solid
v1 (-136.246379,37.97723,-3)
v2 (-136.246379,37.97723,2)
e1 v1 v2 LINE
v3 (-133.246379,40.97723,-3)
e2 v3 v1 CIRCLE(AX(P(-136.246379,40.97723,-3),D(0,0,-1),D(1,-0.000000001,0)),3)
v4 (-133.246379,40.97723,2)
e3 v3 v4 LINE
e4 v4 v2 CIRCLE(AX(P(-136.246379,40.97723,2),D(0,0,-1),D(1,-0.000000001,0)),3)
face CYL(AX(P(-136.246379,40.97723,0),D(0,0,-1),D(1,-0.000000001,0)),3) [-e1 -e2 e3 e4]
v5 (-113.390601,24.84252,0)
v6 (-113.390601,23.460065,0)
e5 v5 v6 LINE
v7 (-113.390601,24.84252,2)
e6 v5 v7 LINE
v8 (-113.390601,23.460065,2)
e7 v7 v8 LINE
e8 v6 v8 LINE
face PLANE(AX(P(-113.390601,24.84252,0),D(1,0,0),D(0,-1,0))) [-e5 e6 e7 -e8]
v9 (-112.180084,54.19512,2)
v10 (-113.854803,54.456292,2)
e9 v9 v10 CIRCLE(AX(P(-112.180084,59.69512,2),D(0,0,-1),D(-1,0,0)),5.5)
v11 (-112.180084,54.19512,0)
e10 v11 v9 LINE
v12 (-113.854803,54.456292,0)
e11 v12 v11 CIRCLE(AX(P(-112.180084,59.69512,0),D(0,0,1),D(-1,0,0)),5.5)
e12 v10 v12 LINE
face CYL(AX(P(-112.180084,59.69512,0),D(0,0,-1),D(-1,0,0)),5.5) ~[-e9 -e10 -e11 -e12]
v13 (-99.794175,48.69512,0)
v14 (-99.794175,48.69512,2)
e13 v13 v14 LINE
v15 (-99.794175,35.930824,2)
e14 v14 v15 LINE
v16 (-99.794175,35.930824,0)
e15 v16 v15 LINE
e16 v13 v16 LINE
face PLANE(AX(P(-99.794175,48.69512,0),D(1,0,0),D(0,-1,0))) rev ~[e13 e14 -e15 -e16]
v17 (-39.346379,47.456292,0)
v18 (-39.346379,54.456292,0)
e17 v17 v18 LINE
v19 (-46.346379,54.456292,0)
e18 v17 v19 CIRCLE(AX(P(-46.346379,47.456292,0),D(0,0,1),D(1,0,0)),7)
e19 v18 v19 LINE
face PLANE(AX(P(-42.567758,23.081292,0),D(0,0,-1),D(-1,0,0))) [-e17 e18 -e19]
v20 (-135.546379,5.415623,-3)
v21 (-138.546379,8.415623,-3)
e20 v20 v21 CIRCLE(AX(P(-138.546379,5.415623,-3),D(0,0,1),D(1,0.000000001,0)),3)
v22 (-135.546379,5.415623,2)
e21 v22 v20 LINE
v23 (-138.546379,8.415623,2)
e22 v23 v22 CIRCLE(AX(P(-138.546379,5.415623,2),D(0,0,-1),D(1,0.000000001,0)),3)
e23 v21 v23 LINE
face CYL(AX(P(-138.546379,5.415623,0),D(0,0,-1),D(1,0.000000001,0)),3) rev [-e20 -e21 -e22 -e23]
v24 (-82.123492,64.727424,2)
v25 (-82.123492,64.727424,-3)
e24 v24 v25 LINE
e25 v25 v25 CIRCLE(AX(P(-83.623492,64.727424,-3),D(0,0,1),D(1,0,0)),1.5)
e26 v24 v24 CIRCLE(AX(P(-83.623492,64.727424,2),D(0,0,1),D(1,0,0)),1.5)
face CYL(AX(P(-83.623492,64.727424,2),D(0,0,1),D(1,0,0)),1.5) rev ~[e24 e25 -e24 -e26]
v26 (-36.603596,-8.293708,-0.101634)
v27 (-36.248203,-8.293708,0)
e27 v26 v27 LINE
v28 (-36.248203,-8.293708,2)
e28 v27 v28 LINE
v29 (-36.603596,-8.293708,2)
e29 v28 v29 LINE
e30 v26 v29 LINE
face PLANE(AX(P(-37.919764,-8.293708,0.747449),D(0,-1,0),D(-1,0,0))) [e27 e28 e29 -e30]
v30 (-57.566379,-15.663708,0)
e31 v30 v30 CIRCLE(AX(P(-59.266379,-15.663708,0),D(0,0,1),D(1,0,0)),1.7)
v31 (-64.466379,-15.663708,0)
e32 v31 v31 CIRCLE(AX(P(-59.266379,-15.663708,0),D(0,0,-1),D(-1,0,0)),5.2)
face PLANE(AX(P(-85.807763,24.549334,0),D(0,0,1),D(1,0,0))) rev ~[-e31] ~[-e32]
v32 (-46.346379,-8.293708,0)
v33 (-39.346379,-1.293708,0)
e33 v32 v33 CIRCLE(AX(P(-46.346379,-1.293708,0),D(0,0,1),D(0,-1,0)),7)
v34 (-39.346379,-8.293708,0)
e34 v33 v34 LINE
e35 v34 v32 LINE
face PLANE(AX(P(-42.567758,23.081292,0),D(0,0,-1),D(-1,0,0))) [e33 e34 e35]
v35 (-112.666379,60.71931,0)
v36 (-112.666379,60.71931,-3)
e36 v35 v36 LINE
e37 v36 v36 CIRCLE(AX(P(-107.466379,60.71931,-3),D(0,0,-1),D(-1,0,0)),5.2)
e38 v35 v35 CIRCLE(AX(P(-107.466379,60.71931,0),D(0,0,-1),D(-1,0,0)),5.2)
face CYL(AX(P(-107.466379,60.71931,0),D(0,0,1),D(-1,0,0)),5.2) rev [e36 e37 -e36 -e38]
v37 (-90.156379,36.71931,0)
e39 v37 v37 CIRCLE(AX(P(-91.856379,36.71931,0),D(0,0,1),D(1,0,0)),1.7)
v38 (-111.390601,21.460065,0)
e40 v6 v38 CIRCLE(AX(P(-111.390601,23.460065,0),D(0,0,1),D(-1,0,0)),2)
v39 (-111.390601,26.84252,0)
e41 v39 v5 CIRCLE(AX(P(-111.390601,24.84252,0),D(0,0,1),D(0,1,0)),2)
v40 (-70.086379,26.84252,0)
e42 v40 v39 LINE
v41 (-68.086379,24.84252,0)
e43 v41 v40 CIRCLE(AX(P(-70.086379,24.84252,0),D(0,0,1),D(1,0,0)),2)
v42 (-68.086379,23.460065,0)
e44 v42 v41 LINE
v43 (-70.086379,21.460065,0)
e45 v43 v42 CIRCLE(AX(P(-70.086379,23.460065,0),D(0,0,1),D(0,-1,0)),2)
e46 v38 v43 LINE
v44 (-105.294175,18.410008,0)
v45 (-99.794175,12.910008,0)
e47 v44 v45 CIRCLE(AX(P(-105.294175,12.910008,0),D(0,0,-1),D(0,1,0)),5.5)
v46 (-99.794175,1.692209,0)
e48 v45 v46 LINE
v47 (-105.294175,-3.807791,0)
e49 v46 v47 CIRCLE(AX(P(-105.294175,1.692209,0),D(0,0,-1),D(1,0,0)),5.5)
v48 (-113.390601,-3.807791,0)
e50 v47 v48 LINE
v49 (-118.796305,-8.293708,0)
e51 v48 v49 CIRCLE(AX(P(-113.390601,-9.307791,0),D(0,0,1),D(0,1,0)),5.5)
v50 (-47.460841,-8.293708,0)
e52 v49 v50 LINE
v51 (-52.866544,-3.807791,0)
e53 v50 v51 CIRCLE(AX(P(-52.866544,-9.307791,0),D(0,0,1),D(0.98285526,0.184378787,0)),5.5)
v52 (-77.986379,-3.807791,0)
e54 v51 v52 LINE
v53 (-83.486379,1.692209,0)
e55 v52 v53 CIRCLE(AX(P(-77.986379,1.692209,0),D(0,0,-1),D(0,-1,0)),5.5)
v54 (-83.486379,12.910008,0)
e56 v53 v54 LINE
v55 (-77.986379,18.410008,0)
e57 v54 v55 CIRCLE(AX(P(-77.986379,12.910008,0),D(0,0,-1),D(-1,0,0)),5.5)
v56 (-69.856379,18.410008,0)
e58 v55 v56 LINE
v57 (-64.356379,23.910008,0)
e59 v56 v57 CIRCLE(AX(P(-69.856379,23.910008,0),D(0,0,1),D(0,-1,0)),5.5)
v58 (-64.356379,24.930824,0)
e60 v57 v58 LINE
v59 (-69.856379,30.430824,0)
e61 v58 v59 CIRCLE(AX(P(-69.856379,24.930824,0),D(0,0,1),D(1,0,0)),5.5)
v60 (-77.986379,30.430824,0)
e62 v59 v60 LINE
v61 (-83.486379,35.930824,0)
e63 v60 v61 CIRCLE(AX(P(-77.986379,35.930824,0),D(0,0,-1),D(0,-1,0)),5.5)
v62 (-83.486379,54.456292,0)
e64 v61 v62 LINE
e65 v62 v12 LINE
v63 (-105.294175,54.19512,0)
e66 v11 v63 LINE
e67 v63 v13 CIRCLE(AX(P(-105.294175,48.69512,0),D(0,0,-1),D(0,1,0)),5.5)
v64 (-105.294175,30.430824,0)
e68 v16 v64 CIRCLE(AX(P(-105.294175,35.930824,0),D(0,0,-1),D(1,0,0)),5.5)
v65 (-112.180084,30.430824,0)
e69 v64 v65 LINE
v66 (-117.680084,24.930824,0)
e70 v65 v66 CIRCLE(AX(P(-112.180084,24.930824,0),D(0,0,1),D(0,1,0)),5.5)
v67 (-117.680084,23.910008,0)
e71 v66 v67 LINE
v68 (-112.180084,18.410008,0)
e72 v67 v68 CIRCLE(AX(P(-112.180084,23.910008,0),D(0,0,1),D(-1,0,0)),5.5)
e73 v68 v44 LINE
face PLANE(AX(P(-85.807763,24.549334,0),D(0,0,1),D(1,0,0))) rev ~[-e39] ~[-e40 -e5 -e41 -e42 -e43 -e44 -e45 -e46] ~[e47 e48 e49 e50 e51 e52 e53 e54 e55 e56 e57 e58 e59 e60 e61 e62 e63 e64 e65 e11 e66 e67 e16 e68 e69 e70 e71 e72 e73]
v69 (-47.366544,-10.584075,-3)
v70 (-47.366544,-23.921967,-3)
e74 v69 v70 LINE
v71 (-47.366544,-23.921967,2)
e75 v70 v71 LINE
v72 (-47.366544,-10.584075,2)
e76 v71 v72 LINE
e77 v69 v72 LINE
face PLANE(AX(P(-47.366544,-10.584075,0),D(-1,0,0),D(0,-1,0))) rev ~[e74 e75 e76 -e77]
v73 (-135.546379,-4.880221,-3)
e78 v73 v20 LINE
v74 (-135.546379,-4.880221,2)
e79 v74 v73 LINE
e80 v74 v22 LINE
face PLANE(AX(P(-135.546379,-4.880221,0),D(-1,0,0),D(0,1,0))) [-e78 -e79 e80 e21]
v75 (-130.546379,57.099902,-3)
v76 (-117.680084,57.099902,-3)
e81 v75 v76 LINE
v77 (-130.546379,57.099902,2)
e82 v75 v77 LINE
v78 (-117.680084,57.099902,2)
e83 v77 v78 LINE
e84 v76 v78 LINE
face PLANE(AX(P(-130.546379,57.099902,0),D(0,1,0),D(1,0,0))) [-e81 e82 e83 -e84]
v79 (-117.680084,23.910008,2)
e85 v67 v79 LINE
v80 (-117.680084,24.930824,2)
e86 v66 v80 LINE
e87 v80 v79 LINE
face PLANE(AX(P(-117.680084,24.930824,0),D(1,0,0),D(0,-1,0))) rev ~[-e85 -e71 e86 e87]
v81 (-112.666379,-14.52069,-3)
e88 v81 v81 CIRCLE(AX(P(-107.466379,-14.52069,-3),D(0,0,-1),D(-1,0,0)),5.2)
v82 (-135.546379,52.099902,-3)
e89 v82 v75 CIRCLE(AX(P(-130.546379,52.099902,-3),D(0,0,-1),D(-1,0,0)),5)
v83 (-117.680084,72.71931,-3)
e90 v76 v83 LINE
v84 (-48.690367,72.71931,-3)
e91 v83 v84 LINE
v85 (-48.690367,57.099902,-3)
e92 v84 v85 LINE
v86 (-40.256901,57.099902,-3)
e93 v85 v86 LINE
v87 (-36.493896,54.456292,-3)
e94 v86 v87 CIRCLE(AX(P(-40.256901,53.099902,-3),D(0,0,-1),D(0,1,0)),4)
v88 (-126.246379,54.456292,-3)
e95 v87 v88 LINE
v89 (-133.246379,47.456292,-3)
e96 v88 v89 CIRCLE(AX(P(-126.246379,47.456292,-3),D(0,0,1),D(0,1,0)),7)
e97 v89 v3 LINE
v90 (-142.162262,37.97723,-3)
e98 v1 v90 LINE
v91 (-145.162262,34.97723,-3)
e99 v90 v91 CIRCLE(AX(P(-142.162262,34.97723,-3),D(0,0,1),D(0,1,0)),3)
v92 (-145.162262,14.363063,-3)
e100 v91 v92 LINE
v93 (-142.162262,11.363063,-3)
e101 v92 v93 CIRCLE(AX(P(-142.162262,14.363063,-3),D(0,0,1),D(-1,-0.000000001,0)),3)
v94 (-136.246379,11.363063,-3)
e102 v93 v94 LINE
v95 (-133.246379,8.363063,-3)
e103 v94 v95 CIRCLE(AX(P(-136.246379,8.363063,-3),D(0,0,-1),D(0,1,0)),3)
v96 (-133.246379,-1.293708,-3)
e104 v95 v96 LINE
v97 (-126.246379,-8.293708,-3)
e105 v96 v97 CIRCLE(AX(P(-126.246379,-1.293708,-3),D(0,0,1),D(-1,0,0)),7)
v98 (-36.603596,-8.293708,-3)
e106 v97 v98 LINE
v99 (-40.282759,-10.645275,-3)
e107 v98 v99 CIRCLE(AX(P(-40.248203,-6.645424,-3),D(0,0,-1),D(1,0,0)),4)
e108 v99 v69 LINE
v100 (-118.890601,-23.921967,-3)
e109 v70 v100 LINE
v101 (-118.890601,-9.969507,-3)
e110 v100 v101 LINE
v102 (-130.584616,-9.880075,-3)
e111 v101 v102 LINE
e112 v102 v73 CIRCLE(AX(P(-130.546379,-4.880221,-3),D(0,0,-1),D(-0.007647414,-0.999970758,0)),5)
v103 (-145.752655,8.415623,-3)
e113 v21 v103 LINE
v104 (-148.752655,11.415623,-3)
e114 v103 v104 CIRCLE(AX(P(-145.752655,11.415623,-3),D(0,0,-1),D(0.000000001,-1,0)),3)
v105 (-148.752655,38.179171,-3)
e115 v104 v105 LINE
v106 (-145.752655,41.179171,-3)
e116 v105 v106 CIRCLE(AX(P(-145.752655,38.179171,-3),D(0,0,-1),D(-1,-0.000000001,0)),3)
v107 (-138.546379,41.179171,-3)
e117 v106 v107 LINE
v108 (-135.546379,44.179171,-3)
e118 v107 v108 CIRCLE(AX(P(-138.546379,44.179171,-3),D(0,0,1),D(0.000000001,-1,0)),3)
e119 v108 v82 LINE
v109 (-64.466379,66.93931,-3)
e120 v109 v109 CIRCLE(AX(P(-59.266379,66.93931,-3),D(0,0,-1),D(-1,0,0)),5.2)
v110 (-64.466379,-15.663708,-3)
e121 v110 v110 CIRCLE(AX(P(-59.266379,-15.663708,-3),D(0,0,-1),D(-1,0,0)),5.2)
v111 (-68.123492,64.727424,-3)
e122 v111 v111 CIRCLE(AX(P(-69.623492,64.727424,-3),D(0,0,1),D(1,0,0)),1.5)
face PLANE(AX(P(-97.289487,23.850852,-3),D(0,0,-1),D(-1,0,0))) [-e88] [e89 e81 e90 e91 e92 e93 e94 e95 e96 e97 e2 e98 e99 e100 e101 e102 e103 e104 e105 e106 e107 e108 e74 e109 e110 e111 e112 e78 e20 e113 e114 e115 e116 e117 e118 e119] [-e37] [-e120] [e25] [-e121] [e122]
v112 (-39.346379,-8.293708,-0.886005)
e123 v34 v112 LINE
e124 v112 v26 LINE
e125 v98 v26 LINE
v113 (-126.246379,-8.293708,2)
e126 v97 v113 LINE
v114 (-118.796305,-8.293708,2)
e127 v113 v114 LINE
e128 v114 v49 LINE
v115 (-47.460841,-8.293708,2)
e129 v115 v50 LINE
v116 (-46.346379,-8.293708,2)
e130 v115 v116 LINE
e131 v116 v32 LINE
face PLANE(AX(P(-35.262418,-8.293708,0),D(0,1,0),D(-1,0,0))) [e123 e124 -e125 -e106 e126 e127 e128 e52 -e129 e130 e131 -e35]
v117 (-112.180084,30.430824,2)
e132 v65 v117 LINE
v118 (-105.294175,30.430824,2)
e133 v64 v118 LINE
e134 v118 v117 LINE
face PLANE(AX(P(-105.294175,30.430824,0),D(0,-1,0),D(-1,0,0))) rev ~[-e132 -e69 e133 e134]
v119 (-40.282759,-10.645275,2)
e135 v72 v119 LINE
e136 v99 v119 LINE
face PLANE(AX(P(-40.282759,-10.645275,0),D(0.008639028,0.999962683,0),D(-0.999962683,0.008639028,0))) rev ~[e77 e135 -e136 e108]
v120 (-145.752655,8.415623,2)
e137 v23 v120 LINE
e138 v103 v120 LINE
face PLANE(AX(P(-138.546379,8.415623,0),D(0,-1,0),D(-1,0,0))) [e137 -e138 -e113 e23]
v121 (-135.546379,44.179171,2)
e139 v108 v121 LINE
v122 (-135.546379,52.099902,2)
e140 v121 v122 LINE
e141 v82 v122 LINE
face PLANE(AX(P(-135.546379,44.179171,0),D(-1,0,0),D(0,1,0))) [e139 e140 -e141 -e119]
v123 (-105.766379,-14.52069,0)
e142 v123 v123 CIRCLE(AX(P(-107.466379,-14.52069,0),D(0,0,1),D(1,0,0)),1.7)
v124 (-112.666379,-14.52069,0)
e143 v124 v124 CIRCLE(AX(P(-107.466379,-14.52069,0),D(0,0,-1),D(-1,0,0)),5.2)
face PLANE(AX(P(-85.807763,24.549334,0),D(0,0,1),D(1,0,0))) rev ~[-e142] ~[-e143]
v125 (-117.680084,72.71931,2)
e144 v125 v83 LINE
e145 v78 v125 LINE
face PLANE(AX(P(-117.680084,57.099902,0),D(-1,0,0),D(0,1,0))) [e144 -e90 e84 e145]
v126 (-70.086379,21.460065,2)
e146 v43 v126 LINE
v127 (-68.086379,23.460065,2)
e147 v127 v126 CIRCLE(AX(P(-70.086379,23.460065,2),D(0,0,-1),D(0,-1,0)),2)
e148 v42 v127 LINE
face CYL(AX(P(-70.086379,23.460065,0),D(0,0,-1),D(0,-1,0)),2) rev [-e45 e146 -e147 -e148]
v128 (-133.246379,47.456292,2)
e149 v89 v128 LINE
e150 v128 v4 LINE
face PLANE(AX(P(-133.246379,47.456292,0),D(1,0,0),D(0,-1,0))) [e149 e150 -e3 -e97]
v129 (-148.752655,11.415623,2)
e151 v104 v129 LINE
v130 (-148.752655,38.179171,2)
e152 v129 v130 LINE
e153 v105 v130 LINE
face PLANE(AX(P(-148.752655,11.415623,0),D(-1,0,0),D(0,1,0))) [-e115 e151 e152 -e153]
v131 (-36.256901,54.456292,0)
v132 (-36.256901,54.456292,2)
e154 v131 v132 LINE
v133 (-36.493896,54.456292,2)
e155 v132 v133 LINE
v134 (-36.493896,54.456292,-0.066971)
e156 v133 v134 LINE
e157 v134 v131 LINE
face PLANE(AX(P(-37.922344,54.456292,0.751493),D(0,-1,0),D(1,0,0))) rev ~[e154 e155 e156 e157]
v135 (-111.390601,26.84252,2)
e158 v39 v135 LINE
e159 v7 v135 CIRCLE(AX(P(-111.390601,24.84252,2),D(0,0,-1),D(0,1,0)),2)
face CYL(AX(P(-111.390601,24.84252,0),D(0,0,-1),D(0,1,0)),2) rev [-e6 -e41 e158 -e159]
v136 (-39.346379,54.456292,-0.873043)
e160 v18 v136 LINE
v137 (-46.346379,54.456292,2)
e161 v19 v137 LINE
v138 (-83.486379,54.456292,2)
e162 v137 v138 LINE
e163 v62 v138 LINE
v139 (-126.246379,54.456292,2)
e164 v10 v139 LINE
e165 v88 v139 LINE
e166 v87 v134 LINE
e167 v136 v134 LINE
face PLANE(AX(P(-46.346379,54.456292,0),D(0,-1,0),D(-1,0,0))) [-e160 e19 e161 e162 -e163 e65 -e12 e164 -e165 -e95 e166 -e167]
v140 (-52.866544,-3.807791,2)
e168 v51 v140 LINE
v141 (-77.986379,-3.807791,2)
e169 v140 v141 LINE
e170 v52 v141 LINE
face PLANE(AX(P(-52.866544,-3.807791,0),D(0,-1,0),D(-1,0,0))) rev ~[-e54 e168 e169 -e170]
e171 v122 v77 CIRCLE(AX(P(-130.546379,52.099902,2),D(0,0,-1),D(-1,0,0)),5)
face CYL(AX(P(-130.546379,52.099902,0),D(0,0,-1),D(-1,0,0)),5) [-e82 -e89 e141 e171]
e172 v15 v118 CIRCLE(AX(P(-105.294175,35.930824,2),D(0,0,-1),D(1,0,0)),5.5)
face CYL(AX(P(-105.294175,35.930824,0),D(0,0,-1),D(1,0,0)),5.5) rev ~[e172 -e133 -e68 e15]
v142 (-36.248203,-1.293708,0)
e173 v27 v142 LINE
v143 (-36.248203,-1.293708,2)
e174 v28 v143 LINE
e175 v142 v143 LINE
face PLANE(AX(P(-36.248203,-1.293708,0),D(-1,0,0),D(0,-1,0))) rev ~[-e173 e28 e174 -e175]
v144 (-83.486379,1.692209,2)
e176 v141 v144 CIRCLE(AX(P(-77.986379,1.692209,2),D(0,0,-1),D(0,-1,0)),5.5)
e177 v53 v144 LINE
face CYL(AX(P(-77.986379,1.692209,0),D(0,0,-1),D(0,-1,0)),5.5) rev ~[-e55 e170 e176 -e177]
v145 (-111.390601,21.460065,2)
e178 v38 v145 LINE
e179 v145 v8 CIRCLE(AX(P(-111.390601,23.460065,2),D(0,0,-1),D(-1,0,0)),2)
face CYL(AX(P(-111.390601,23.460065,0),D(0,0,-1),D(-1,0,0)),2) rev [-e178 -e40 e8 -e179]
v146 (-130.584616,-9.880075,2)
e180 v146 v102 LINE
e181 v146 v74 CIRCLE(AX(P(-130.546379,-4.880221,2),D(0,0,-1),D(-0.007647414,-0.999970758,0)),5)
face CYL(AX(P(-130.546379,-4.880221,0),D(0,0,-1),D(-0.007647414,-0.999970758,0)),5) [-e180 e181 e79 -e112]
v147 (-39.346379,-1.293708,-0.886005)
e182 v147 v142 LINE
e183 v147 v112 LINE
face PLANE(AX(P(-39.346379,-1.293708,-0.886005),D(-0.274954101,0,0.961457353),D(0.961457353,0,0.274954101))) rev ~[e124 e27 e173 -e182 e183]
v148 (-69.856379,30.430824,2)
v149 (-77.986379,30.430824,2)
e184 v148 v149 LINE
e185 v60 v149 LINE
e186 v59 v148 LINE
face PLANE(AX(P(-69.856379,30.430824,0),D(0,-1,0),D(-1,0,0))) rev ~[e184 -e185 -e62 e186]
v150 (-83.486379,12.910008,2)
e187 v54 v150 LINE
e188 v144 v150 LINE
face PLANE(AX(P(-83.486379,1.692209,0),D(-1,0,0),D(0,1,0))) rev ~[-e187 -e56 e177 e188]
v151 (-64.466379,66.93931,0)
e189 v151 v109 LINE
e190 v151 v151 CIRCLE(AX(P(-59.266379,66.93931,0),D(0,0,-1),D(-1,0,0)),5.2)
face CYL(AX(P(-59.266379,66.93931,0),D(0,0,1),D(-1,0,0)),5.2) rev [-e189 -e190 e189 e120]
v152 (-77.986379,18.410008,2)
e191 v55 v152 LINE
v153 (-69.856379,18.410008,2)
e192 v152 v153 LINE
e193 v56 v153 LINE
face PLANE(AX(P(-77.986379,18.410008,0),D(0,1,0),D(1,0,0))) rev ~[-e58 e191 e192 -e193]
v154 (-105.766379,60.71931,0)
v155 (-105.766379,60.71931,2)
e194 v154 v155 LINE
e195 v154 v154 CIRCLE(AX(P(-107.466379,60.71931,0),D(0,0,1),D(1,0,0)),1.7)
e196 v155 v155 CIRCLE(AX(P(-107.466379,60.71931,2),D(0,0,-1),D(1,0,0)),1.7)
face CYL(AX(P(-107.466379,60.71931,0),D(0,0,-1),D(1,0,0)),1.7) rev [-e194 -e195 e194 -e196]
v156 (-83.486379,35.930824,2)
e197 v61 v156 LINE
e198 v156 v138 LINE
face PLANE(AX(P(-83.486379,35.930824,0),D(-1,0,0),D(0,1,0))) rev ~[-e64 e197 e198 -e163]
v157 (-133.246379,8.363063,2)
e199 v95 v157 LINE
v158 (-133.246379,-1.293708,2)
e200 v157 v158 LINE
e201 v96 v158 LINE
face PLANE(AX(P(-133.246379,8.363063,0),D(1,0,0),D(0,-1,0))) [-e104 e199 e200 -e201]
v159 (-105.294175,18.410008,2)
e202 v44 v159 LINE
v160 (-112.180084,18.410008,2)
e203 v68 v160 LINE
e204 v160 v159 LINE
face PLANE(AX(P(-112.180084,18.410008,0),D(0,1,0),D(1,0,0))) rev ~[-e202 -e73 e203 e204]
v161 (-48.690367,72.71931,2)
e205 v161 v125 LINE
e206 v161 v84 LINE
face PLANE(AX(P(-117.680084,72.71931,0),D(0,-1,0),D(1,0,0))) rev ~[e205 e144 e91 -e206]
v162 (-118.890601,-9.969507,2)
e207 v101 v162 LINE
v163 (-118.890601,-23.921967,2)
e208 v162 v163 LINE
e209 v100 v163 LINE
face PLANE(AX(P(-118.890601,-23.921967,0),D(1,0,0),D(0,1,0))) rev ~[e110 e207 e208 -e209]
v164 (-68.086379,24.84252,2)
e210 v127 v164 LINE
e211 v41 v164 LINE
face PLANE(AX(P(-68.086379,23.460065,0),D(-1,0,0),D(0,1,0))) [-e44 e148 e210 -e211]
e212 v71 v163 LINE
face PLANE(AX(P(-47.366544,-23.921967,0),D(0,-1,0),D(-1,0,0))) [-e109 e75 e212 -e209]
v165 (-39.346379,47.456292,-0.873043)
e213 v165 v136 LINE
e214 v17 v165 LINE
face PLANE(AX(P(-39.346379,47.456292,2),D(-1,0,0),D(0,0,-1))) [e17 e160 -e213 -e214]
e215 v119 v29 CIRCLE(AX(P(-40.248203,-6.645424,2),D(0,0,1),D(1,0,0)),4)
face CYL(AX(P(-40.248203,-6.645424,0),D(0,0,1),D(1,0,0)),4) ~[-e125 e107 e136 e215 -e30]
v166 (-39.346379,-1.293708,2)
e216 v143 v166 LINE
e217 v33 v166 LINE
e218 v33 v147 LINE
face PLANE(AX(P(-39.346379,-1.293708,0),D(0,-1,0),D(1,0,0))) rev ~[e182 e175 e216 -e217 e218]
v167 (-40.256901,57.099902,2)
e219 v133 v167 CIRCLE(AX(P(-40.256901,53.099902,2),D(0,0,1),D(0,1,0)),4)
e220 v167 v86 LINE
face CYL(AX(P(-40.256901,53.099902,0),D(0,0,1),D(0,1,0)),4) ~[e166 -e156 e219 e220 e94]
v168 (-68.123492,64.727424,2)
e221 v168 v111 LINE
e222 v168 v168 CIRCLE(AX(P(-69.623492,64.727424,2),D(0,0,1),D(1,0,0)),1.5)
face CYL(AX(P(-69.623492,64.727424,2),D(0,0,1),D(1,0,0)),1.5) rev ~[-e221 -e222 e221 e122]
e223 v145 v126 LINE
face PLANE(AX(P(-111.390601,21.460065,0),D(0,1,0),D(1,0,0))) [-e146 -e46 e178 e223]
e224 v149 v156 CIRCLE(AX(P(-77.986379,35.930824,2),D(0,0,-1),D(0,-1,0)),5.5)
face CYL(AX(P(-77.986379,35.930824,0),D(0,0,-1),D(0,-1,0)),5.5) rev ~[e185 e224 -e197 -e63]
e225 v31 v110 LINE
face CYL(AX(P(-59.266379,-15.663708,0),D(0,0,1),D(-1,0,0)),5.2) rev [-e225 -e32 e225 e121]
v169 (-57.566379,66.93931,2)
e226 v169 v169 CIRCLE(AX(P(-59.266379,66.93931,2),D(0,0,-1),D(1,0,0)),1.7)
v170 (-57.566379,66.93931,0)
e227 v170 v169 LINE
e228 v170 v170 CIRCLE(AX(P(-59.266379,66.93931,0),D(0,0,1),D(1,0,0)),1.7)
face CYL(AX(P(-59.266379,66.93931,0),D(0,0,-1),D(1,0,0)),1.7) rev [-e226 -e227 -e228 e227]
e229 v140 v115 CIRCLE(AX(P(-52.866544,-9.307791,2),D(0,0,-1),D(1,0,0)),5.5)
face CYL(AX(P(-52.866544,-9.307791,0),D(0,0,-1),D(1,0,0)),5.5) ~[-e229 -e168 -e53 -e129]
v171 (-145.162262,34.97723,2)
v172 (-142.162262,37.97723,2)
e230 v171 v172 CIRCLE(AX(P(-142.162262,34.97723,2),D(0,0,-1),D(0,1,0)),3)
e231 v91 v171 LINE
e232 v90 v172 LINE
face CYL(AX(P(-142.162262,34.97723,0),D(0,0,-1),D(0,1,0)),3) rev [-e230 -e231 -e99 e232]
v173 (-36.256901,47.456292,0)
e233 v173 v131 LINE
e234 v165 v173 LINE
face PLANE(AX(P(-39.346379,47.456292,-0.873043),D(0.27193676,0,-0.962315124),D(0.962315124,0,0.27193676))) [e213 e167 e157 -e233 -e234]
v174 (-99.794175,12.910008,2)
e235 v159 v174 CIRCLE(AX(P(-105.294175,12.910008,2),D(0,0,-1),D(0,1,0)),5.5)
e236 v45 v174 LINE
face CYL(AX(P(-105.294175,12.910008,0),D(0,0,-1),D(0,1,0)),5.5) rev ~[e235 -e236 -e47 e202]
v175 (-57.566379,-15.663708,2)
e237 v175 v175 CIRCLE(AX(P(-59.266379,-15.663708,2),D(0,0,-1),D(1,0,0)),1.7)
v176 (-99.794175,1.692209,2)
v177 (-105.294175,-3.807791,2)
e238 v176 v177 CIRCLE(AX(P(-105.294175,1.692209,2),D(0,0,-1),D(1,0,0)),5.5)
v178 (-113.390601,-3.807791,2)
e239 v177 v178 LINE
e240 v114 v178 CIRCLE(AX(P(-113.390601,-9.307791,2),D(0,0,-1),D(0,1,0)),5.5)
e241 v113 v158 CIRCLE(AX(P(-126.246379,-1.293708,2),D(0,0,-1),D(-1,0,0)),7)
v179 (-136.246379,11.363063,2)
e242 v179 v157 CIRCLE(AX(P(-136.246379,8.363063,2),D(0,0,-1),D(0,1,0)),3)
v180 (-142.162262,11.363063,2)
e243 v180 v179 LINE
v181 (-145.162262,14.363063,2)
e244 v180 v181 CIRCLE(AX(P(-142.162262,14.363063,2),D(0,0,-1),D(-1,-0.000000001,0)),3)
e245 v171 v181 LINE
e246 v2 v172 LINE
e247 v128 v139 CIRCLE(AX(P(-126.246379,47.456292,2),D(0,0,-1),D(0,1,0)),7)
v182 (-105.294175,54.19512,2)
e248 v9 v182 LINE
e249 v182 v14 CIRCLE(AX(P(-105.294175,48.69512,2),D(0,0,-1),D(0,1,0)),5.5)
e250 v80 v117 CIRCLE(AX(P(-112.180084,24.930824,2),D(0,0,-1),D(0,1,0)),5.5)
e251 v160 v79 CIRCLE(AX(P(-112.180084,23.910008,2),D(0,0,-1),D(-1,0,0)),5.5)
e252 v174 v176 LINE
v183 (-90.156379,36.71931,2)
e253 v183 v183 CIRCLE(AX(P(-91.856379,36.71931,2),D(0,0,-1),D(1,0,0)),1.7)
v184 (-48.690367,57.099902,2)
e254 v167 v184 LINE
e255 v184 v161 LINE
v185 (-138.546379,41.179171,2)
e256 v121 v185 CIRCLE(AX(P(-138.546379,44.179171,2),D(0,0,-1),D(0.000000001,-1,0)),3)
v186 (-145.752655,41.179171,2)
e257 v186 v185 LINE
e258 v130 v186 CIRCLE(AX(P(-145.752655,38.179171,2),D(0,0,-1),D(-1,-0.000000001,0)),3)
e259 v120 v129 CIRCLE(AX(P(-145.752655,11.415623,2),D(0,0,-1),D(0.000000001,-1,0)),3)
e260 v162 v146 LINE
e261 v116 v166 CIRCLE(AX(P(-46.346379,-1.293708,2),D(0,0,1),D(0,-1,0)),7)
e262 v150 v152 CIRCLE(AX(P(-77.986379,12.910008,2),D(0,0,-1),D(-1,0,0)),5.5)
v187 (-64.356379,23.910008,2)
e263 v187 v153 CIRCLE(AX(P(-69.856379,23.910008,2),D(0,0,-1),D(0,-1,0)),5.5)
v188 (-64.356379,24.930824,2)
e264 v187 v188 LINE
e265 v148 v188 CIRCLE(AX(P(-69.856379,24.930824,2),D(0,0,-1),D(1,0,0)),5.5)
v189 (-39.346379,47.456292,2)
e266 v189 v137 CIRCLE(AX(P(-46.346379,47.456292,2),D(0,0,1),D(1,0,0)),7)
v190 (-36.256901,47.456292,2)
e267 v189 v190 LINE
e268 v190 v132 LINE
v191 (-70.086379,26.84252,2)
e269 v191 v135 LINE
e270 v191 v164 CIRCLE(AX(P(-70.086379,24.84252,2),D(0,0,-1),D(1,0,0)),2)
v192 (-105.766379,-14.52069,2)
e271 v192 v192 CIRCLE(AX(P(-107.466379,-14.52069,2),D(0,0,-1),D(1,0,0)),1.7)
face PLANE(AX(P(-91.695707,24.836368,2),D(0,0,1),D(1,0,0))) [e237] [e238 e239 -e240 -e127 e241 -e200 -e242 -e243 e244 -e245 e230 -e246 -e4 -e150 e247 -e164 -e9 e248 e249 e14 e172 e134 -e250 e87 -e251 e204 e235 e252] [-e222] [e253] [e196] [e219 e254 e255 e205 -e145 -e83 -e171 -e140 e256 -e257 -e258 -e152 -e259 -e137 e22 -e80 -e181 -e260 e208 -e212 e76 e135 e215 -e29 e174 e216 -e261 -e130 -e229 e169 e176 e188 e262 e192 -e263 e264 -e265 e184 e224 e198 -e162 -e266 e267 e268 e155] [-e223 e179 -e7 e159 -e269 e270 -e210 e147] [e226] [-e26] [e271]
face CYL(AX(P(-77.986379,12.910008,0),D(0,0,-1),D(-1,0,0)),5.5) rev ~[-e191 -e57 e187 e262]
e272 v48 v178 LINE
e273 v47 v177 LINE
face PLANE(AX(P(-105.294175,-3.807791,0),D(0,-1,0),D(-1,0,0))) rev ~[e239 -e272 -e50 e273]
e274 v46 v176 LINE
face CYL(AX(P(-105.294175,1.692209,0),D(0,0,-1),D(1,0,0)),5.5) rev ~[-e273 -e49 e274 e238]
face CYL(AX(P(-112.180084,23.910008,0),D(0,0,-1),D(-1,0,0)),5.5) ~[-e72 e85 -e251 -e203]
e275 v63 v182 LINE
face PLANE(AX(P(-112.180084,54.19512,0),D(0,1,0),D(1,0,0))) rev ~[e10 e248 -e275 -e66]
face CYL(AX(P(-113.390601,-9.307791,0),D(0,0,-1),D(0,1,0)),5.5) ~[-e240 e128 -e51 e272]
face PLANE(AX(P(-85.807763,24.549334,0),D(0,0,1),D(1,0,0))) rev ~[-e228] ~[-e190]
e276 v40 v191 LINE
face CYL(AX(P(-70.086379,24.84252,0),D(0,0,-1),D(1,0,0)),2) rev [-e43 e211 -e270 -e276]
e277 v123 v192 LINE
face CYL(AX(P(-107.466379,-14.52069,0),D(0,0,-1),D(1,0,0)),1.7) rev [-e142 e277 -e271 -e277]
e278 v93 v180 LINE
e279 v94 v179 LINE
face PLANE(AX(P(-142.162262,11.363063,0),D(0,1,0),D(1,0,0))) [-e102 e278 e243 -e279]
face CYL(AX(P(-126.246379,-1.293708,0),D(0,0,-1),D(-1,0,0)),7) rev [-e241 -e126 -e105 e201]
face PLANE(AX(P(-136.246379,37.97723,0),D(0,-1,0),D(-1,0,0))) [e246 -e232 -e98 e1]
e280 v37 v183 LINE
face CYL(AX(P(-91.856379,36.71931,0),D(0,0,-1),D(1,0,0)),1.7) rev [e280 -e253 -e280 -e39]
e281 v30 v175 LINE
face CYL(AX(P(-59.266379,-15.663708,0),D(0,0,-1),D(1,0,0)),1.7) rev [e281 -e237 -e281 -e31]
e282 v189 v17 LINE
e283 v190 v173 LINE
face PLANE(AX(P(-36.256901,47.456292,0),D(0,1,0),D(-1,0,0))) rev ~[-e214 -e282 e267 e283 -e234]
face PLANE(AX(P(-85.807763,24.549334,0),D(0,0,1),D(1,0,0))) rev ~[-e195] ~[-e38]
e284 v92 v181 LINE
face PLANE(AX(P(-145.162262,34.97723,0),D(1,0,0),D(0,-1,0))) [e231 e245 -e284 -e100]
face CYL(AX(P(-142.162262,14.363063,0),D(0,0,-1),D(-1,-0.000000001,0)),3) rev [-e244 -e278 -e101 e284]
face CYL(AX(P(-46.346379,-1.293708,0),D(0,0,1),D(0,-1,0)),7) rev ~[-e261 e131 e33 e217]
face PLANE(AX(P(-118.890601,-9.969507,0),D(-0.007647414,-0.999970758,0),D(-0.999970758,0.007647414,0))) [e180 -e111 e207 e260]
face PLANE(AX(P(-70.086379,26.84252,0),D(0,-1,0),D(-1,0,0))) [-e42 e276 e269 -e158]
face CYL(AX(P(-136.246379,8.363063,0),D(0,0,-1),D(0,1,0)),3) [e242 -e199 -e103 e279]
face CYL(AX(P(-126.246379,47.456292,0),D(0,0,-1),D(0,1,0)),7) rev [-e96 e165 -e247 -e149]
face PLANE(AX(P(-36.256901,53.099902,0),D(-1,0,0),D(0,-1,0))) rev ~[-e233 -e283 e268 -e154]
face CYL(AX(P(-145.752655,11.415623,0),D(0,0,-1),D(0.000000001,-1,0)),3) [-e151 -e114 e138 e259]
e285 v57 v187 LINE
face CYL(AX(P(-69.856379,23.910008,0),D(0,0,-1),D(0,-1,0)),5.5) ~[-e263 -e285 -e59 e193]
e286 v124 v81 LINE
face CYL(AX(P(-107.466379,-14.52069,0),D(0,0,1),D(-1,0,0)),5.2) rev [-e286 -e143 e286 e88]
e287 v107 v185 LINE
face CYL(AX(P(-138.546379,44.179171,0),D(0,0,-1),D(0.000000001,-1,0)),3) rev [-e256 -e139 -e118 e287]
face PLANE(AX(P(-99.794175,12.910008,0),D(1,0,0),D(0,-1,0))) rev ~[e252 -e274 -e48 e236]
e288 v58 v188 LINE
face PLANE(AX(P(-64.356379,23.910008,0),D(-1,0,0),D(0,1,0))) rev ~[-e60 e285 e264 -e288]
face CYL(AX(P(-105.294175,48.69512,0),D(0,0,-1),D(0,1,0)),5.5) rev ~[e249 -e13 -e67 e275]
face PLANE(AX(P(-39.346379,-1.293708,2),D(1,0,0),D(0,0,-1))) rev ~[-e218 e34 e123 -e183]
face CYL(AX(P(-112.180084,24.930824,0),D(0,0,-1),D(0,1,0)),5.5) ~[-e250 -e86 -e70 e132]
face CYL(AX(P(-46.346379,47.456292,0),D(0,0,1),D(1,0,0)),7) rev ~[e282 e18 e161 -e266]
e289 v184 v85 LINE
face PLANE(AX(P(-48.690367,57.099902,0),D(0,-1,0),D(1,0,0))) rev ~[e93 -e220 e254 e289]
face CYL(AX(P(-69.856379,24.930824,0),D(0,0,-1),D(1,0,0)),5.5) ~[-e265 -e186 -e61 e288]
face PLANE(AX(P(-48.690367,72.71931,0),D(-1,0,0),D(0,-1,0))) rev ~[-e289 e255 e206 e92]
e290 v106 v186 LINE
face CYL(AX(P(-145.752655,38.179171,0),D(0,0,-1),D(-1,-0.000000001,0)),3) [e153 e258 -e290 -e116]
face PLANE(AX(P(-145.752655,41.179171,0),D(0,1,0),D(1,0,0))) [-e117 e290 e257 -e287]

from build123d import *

# Parameters (mm, degrees)
ESQUISSE1_R             = 1.7
BOSS_EXTRU_1_DEPTH      = 3
BOSS_EXTRU_2_DEPTH      = 3
BOSS_EXTRU_2_DEPTH_BACK = 3
ESQUISSE2_R             = 5.2
ESQUISSE5_W             = 129.390100882
ESQUISSE5_H             = 110.068207502
ENL_V_MAT_EXTRU_2_DEPTH = 1
ESQUISSE6_R             = 1.5
ENL_V_MAT_EXTRU_3_DEPTH = 8
ESQUISSE7_W             = 14.610679854
ESQUISSE7_H             = 62.75
ENL_V_MAT_EXTRU_4_DEPTH = 8
BOSS_EXTRU_3_DEPTH      = 7
BOSS_EXTRU_4_DEPTH      = 7


with BuildPart() as part:
    # Esquisse1 → Boss.-Extru.1 (new body)
    with BuildSketch(Plane.XY):
        with BuildLine():
            Line((-117.680084405, 66.939310237), (-117.680084405, 59.695120061))
            ThreePointArc((-117.680084405, 59.695120061), (-116.069171702, 55.806032765), (-112.180084405, 54.195120061))
            Line((-112.180084405, 54.195120061), (-105.294175096, 54.195120061))
            ThreePointArc((-105.294175096, 54.195120061), (-101.4050878, 52.584207358), (-99.794175096, 48.695120061))
            Line((-99.794175096, 48.695120061), (-99.794175096, 35.930823665))
            ThreePointArc((-99.794175096, 35.930823665), (-101.4050878, 32.041736368), (-105.294175096, 30.430823665))
            Line((-105.294175096, 30.430823665), (-112.180084405, 30.430823665))
            ThreePointArc((-112.180084405, 30.430823665), (-116.069171702, 28.819910961), (-117.680084405, 24.930823665))
            Line((-117.680084405, 24.930823665), (-117.680084405, 23.910007682))
            ThreePointArc((-117.680084405, 23.910007682), (-116.069171702, 20.020920385), (-112.180084405, 18.410007682))
            Line((-112.180084405, 18.410007682), (-105.294175096, 18.410007682))
            ThreePointArc((-105.294175096, 18.410007682), (-101.4050878, 16.799094979), (-99.794175096, 12.910007682))
            Line((-99.794175096, 12.910007682), (-99.794175096, 1.692208933))
            ThreePointArc((-99.794175096, 1.692208933), (-101.4050878, -2.196878364), (-105.294175096, -3.807791067))
            Line((-105.294175096, -3.807791067), (-113.390601299, -3.807791067))
            ThreePointArc((-113.390601299, -3.807791067), (-117.279688595, -5.418703771), (-118.890601299, -9.307791067))
            Line((-118.890601299, -9.307791067), (-118.890601299, -18.42196685))
            ThreePointArc((-118.890601299, -18.42196685), (-117.279688595, -22.311054147), (-113.390601299, -23.92196685))
            Line((-113.390601299, -23.92196685), (-52.866544484, -23.92196685))
            ThreePointArc((-52.866544484, -23.92196685), (-48.977457187, -22.311054147), (-47.366544484, -18.42196685))
            Line((-47.366544484, -18.42196685), (-47.366544484, -9.307791067))
            ThreePointArc((-47.366544484, -9.307791067), (-48.977457187, -5.418703771), (-52.866544484, -3.807791067))
            Line((-52.866544484, -3.807791067), (-77.986378892, -3.807791067))
            ThreePointArc((-77.986378892, -3.807791067), (-81.875466189, -2.196878364), (-83.486378892, 1.692208933))
            Line((-83.486378892, 1.692208933), (-83.486378892, 12.910007682))
            ThreePointArc((-83.486378892, 12.910007682), (-81.875466189, 16.799094979), (-77.986378892, 18.410007682))
            Line((-77.986378892, 18.410007682), (-69.856378892, 18.410007682))
            ThreePointArc((-69.856378892, 18.410007682), (-65.967291596, 20.020920385), (-64.356378892, 23.910007682))
            Line((-64.356378892, 23.910007682), (-64.356378892, 24.930823665))
            ThreePointArc((-64.356378892, 24.930823665), (-65.967291596, 28.819910961), (-69.856378892, 30.430823665))
            Line((-69.856378892, 30.430823665), (-77.986378892, 30.430823665))
            ThreePointArc((-77.986378892, 30.430823665), (-81.875466189, 32.041736368), (-83.486378892, 35.930823665))
            Line((-83.486378892, 35.930823665), (-83.486378892, 55.219310237))
            ThreePointArc((-83.486378892, 55.219310237), (-81.875466189, 59.108397534), (-77.986378892, 60.719310237))
            Line((-77.986378892, 60.719310237), (-54.190366806, 60.719310237))
            ThreePointArc((-54.190366806, 60.719310237), (-50.30127951, 62.330222941), (-48.690366806, 66.219310237))
            Line((-48.690366806, 66.219310237), (-48.690366806, 67.219310237))
            ThreePointArc((-48.690366806, 67.219310237), (-50.30127951, 71.108397534), (-54.190366806, 72.719310237))
            Line((-54.190366806, 72.719310237), (-112.180084405, 72.719310237))
            ThreePointArc((-112.180084405, 72.719310237), (-116.069171702, 71.108397534), (-117.680084405, 67.219310237))
            Line((-117.680084405, 67.219310237), (-117.680084405, 66.939310237))
        make_face()
        with Locations((-59.266378892, -15.663707737)):
            Circle(ESQUISSE1_R, mode=Mode.SUBTRACT)
        with Locations((-59.266378892, 66.939310237)):
            Circle(ESQUISSE1_R, mode=Mode.SUBTRACT)
        with Locations((-91.856378892, 36.719310237)):
            Circle(ESQUISSE1_R, mode=Mode.SUBTRACT)
        with Locations((-107.466378892, -14.520689763)):
            Circle(ESQUISSE1_R, mode=Mode.SUBTRACT)
        with Locations((-107.466378892, 60.719310237)):
            Circle(ESQUISSE1_R, mode=Mode.SUBTRACT)
        with BuildLine():
            Line((-111.390601299, 21.460065469), (-70.086378892, 21.460065469))
            ThreePointArc((-70.086378892, 21.460065469), (-68.67216533, 22.045851906), (-68.086378892, 23.460065469))
            Line((-68.086378892, 23.460065469), (-68.086378892, 24.842520386))
            ThreePointArc((-68.086378892, 24.842520386), (-68.67216533, 26.256733949), (-70.086378892, 26.842520386))
            Line((-70.086378892, 26.842520386), (-111.390601299, 26.842520386))
            ThreePointArc((-111.390601299, 26.842520386), (-112.804814861, 26.256733949), (-113.390601299, 24.842520386))
            Line((-113.390601299, 24.842520386), (-113.390601299, 23.460065469))
            ThreePointArc((-113.390601299, 23.460065469), (-112.804814861, 22.045851906), (-111.390601299, 21.460065469))
        make_face(mode=Mode.SUBTRACT)
    extrude(amount=BOSS_EXTRU_1_DEPTH)

    # Esquisse2 → Boss.-Extru.2 (add, two sides: drawn at the far end of the back side and taken through both)
    with BuildSketch(Plane(origin=(0, 0, 0), x_dir=(-1, 0, 0), z_dir=(0, 0, -1)).offset(-BOSS_EXTRU_2_DEPTH_BACK)):
        with BuildLine():
            Line((118.890601299, -9.969506719), (130.584615963, -9.880075131))
            ThreePointArc((130.584615963, -9.880075131), (134.095405897, -8.402210456), (135.546378892, -4.880221341))
            Line((135.546378892, -4.880221341), (135.546378892, 5.415623015))
            ThreePointArc((135.546378892, 5.415623015), (136.425058549, 7.536943358), (138.546378892, 8.415623015))
            Line((138.546378892, 8.415623015), (145.752654566, 8.415623015))
            ThreePointArc((145.752654566, 8.415623015), (147.87397491, 9.294302671), (148.752654566, 11.415623015))
            Line((148.752654566, 11.415623015), (148.752654566, 38.179170847))
            ThreePointArc((148.752654566, 38.179170847), (147.87397491, 40.300491191), (145.752654566, 41.179170847))
            Line((145.752654566, 41.179170847), (138.546378892, 41.179170847))
            ThreePointArc((138.546378892, 41.179170847), (136.425058549, 42.057850504), (135.546378892, 44.179170847))
            Line((135.546378892, 44.179170847), (135.546378892, 52.099902349))
            ThreePointArc((135.546378892, 52.099902349), (134.081912798, 55.635436255), (130.546378892, 57.099902349))
            Line((130.546378892, 57.099902349), (117.680084405, 57.099902349))
            Line((117.680084405, 57.099902349), (117.680084405, 72.719310237))
            Line((117.680084405, 72.719310237), (48.690366806, 72.719310237))
            Line((48.690366806, 72.719310237), (48.690366806, 60.719310237))
            Line((48.690366806, 60.719310237), (48.690366806, 57.099902349))
            Line((48.690366806, 57.099902349), (40.256901013, 57.099902349))
            ThreePointArc((40.256901013, 57.099902349), (37.428473888, 55.928329474), (36.256901013, 53.099902349))
            Line((36.256901013, 53.099902349), (36.256901013, 47.456292263))
            Line((36.256901013, 47.456292263), (39.346378892, 47.456292263))
            ThreePointArc((39.346378892, 47.456292263), (41.396631424, 52.406039732), (46.346378892, 54.456292263))
            Line((46.346378892, 54.456292263), (126.246378892, 54.456292263))
            ThreePointArc((126.246378892, 54.456292263), (131.196126361, 52.406039732), (133.246378892, 47.456292263))
            Line((133.246378892, 47.456292263), (133.246378892, 40.977229779))
            ThreePointArc((133.246378892, 40.977229779), (134.125058549, 38.855909436), (136.246378892, 37.977229779))
            Line((136.246378892, 37.977229779), (142.162261637, 37.977229779))
            ThreePointArc((142.162261637, 37.977229779), (144.28358198, 37.098550123), (145.162261637, 34.977229779))
            Line((145.162261637, 34.977229779), (145.162261637, 14.363062522))
            ThreePointArc((145.162261637, 14.363062522), (144.28358198, 12.241742179), (142.162261637, 11.363062522))
            Line((142.162261637, 11.363062522), (136.246378892, 11.363062522))
            ThreePointArc((136.246378892, 11.363062522), (134.125058549, 10.484382866), (133.246378892, 8.363062522))
            Line((133.246378892, 8.363062522), (133.246378892, -1.293707737))
            ThreePointArc((133.246378892, -1.293707737), (131.196126361, -6.243455205), (126.246378892, -8.293707737))
            Line((126.246378892, -8.293707737), (46.346378892, -8.293707737))
            ThreePointArc((46.346378892, -8.293707737), (41.396631424, -6.243455205), (39.346378892, -1.293707737))
            Line((39.346378892, -1.293707737), (36.248203357, -1.293707737))
            Line((36.248203357, -1.293707737), (36.248203357, -6.64542392))
            ThreePointArc((36.248203357, -6.64542392), (37.432020164, -9.486042202), (40.282759469, -10.645274652))
            Line((40.282759469, -10.645274652), (47.366544484, -10.58407535))
            Line((47.366544484, -10.58407535), (47.366544484, -23.92196685))
            Line((47.366544484, -23.92196685), (118.890601299, -23.92196685))
            Line((118.890601299, -23.92196685), (118.890601299, -9.969506719))
        make_face()
        with Locations((59.266378892, -15.663707737)):
            Circle(ESQUISSE2_R, mode=Mode.SUBTRACT)
        with Locations((107.466378892, -14.520689763)):
            Circle(ESQUISSE2_R, mode=Mode.SUBTRACT)
        with Locations((107.466378892, 60.719310237)):
            Circle(ESQUISSE2_R, mode=Mode.SUBTRACT)
        with Locations((59.266378892, 66.939310237)):
            Circle(ESQUISSE2_R, mode=Mode.SUBTRACT)
    extrude(amount=BOSS_EXTRU_2_DEPTH + BOSS_EXTRU_2_DEPTH_BACK)

    # Esquisse5 → Enlèv. mat.-Extru.2 (cut)
    with BuildSketch(Plane.XY.offset(3)):
        with Locations((-91.695706627, 24.836368366)):
            Rectangle(ESQUISSE5_W, ESQUISSE5_H)
    extrude(amount=-ENL_V_MAT_EXTRU_2_DEPTH, mode=Mode.SUBTRACT)

    # Esquisse6 → Enlèv. mat.-Extru.3 (cut)
    with BuildSketch(Plane.XY.offset(2)):
        with Locations((-69.623492164, 64.727424081)):
            Circle(ESQUISSE6_R)
        with Locations((-83.623492164, 64.727424081)):
            Circle(ESQUISSE6_R)
    extrude(amount=-ENL_V_MAT_EXTRU_3_DEPTH, mode=Mode.SUBTRACT)

    # Esquisse7 → Enlèv. mat.-Extru.4 (cut)
    with BuildSketch(Plane(origin=(0, 0, 0), x_dir=(-1, 0, 0), z_dir=(0, 0, -1))):
        with Locations((42.567758063, 23.081292263)):
            Rectangle(ESQUISSE7_W, ESQUISSE7_H)
    extrude(amount=ENL_V_MAT_EXTRU_4_DEPTH, mode=Mode.SUBTRACT)

    # Esquisse9 → Boss.-Extru.3 (add)
    with BuildSketch(Plane(origin=(0, -1.293707737, 0), x_dir=(1, 0, 0), z_dir=(0, 1, 0))):
        Polygon((-39.346378892, -2), (-39.346378892, 0.886005049), (-36.248203357, 0), (-36.248203357, -2), align=None)
    extrude(amount=-BOSS_EXTRU_3_DEPTH)

    # Esquisse10 → Boss.-Extru.4 (add)
    with BuildSketch(Plane.XZ.offset(-47.456292263)):
        Polygon((-39.346378892, 2), (-39.346378892, -0.873043126), (-36.256901013, 0), (-36.256901013, 2), align=None)
    extrude(amount=-BOSS_EXTRU_4_DEPTH)


solid = part.part
